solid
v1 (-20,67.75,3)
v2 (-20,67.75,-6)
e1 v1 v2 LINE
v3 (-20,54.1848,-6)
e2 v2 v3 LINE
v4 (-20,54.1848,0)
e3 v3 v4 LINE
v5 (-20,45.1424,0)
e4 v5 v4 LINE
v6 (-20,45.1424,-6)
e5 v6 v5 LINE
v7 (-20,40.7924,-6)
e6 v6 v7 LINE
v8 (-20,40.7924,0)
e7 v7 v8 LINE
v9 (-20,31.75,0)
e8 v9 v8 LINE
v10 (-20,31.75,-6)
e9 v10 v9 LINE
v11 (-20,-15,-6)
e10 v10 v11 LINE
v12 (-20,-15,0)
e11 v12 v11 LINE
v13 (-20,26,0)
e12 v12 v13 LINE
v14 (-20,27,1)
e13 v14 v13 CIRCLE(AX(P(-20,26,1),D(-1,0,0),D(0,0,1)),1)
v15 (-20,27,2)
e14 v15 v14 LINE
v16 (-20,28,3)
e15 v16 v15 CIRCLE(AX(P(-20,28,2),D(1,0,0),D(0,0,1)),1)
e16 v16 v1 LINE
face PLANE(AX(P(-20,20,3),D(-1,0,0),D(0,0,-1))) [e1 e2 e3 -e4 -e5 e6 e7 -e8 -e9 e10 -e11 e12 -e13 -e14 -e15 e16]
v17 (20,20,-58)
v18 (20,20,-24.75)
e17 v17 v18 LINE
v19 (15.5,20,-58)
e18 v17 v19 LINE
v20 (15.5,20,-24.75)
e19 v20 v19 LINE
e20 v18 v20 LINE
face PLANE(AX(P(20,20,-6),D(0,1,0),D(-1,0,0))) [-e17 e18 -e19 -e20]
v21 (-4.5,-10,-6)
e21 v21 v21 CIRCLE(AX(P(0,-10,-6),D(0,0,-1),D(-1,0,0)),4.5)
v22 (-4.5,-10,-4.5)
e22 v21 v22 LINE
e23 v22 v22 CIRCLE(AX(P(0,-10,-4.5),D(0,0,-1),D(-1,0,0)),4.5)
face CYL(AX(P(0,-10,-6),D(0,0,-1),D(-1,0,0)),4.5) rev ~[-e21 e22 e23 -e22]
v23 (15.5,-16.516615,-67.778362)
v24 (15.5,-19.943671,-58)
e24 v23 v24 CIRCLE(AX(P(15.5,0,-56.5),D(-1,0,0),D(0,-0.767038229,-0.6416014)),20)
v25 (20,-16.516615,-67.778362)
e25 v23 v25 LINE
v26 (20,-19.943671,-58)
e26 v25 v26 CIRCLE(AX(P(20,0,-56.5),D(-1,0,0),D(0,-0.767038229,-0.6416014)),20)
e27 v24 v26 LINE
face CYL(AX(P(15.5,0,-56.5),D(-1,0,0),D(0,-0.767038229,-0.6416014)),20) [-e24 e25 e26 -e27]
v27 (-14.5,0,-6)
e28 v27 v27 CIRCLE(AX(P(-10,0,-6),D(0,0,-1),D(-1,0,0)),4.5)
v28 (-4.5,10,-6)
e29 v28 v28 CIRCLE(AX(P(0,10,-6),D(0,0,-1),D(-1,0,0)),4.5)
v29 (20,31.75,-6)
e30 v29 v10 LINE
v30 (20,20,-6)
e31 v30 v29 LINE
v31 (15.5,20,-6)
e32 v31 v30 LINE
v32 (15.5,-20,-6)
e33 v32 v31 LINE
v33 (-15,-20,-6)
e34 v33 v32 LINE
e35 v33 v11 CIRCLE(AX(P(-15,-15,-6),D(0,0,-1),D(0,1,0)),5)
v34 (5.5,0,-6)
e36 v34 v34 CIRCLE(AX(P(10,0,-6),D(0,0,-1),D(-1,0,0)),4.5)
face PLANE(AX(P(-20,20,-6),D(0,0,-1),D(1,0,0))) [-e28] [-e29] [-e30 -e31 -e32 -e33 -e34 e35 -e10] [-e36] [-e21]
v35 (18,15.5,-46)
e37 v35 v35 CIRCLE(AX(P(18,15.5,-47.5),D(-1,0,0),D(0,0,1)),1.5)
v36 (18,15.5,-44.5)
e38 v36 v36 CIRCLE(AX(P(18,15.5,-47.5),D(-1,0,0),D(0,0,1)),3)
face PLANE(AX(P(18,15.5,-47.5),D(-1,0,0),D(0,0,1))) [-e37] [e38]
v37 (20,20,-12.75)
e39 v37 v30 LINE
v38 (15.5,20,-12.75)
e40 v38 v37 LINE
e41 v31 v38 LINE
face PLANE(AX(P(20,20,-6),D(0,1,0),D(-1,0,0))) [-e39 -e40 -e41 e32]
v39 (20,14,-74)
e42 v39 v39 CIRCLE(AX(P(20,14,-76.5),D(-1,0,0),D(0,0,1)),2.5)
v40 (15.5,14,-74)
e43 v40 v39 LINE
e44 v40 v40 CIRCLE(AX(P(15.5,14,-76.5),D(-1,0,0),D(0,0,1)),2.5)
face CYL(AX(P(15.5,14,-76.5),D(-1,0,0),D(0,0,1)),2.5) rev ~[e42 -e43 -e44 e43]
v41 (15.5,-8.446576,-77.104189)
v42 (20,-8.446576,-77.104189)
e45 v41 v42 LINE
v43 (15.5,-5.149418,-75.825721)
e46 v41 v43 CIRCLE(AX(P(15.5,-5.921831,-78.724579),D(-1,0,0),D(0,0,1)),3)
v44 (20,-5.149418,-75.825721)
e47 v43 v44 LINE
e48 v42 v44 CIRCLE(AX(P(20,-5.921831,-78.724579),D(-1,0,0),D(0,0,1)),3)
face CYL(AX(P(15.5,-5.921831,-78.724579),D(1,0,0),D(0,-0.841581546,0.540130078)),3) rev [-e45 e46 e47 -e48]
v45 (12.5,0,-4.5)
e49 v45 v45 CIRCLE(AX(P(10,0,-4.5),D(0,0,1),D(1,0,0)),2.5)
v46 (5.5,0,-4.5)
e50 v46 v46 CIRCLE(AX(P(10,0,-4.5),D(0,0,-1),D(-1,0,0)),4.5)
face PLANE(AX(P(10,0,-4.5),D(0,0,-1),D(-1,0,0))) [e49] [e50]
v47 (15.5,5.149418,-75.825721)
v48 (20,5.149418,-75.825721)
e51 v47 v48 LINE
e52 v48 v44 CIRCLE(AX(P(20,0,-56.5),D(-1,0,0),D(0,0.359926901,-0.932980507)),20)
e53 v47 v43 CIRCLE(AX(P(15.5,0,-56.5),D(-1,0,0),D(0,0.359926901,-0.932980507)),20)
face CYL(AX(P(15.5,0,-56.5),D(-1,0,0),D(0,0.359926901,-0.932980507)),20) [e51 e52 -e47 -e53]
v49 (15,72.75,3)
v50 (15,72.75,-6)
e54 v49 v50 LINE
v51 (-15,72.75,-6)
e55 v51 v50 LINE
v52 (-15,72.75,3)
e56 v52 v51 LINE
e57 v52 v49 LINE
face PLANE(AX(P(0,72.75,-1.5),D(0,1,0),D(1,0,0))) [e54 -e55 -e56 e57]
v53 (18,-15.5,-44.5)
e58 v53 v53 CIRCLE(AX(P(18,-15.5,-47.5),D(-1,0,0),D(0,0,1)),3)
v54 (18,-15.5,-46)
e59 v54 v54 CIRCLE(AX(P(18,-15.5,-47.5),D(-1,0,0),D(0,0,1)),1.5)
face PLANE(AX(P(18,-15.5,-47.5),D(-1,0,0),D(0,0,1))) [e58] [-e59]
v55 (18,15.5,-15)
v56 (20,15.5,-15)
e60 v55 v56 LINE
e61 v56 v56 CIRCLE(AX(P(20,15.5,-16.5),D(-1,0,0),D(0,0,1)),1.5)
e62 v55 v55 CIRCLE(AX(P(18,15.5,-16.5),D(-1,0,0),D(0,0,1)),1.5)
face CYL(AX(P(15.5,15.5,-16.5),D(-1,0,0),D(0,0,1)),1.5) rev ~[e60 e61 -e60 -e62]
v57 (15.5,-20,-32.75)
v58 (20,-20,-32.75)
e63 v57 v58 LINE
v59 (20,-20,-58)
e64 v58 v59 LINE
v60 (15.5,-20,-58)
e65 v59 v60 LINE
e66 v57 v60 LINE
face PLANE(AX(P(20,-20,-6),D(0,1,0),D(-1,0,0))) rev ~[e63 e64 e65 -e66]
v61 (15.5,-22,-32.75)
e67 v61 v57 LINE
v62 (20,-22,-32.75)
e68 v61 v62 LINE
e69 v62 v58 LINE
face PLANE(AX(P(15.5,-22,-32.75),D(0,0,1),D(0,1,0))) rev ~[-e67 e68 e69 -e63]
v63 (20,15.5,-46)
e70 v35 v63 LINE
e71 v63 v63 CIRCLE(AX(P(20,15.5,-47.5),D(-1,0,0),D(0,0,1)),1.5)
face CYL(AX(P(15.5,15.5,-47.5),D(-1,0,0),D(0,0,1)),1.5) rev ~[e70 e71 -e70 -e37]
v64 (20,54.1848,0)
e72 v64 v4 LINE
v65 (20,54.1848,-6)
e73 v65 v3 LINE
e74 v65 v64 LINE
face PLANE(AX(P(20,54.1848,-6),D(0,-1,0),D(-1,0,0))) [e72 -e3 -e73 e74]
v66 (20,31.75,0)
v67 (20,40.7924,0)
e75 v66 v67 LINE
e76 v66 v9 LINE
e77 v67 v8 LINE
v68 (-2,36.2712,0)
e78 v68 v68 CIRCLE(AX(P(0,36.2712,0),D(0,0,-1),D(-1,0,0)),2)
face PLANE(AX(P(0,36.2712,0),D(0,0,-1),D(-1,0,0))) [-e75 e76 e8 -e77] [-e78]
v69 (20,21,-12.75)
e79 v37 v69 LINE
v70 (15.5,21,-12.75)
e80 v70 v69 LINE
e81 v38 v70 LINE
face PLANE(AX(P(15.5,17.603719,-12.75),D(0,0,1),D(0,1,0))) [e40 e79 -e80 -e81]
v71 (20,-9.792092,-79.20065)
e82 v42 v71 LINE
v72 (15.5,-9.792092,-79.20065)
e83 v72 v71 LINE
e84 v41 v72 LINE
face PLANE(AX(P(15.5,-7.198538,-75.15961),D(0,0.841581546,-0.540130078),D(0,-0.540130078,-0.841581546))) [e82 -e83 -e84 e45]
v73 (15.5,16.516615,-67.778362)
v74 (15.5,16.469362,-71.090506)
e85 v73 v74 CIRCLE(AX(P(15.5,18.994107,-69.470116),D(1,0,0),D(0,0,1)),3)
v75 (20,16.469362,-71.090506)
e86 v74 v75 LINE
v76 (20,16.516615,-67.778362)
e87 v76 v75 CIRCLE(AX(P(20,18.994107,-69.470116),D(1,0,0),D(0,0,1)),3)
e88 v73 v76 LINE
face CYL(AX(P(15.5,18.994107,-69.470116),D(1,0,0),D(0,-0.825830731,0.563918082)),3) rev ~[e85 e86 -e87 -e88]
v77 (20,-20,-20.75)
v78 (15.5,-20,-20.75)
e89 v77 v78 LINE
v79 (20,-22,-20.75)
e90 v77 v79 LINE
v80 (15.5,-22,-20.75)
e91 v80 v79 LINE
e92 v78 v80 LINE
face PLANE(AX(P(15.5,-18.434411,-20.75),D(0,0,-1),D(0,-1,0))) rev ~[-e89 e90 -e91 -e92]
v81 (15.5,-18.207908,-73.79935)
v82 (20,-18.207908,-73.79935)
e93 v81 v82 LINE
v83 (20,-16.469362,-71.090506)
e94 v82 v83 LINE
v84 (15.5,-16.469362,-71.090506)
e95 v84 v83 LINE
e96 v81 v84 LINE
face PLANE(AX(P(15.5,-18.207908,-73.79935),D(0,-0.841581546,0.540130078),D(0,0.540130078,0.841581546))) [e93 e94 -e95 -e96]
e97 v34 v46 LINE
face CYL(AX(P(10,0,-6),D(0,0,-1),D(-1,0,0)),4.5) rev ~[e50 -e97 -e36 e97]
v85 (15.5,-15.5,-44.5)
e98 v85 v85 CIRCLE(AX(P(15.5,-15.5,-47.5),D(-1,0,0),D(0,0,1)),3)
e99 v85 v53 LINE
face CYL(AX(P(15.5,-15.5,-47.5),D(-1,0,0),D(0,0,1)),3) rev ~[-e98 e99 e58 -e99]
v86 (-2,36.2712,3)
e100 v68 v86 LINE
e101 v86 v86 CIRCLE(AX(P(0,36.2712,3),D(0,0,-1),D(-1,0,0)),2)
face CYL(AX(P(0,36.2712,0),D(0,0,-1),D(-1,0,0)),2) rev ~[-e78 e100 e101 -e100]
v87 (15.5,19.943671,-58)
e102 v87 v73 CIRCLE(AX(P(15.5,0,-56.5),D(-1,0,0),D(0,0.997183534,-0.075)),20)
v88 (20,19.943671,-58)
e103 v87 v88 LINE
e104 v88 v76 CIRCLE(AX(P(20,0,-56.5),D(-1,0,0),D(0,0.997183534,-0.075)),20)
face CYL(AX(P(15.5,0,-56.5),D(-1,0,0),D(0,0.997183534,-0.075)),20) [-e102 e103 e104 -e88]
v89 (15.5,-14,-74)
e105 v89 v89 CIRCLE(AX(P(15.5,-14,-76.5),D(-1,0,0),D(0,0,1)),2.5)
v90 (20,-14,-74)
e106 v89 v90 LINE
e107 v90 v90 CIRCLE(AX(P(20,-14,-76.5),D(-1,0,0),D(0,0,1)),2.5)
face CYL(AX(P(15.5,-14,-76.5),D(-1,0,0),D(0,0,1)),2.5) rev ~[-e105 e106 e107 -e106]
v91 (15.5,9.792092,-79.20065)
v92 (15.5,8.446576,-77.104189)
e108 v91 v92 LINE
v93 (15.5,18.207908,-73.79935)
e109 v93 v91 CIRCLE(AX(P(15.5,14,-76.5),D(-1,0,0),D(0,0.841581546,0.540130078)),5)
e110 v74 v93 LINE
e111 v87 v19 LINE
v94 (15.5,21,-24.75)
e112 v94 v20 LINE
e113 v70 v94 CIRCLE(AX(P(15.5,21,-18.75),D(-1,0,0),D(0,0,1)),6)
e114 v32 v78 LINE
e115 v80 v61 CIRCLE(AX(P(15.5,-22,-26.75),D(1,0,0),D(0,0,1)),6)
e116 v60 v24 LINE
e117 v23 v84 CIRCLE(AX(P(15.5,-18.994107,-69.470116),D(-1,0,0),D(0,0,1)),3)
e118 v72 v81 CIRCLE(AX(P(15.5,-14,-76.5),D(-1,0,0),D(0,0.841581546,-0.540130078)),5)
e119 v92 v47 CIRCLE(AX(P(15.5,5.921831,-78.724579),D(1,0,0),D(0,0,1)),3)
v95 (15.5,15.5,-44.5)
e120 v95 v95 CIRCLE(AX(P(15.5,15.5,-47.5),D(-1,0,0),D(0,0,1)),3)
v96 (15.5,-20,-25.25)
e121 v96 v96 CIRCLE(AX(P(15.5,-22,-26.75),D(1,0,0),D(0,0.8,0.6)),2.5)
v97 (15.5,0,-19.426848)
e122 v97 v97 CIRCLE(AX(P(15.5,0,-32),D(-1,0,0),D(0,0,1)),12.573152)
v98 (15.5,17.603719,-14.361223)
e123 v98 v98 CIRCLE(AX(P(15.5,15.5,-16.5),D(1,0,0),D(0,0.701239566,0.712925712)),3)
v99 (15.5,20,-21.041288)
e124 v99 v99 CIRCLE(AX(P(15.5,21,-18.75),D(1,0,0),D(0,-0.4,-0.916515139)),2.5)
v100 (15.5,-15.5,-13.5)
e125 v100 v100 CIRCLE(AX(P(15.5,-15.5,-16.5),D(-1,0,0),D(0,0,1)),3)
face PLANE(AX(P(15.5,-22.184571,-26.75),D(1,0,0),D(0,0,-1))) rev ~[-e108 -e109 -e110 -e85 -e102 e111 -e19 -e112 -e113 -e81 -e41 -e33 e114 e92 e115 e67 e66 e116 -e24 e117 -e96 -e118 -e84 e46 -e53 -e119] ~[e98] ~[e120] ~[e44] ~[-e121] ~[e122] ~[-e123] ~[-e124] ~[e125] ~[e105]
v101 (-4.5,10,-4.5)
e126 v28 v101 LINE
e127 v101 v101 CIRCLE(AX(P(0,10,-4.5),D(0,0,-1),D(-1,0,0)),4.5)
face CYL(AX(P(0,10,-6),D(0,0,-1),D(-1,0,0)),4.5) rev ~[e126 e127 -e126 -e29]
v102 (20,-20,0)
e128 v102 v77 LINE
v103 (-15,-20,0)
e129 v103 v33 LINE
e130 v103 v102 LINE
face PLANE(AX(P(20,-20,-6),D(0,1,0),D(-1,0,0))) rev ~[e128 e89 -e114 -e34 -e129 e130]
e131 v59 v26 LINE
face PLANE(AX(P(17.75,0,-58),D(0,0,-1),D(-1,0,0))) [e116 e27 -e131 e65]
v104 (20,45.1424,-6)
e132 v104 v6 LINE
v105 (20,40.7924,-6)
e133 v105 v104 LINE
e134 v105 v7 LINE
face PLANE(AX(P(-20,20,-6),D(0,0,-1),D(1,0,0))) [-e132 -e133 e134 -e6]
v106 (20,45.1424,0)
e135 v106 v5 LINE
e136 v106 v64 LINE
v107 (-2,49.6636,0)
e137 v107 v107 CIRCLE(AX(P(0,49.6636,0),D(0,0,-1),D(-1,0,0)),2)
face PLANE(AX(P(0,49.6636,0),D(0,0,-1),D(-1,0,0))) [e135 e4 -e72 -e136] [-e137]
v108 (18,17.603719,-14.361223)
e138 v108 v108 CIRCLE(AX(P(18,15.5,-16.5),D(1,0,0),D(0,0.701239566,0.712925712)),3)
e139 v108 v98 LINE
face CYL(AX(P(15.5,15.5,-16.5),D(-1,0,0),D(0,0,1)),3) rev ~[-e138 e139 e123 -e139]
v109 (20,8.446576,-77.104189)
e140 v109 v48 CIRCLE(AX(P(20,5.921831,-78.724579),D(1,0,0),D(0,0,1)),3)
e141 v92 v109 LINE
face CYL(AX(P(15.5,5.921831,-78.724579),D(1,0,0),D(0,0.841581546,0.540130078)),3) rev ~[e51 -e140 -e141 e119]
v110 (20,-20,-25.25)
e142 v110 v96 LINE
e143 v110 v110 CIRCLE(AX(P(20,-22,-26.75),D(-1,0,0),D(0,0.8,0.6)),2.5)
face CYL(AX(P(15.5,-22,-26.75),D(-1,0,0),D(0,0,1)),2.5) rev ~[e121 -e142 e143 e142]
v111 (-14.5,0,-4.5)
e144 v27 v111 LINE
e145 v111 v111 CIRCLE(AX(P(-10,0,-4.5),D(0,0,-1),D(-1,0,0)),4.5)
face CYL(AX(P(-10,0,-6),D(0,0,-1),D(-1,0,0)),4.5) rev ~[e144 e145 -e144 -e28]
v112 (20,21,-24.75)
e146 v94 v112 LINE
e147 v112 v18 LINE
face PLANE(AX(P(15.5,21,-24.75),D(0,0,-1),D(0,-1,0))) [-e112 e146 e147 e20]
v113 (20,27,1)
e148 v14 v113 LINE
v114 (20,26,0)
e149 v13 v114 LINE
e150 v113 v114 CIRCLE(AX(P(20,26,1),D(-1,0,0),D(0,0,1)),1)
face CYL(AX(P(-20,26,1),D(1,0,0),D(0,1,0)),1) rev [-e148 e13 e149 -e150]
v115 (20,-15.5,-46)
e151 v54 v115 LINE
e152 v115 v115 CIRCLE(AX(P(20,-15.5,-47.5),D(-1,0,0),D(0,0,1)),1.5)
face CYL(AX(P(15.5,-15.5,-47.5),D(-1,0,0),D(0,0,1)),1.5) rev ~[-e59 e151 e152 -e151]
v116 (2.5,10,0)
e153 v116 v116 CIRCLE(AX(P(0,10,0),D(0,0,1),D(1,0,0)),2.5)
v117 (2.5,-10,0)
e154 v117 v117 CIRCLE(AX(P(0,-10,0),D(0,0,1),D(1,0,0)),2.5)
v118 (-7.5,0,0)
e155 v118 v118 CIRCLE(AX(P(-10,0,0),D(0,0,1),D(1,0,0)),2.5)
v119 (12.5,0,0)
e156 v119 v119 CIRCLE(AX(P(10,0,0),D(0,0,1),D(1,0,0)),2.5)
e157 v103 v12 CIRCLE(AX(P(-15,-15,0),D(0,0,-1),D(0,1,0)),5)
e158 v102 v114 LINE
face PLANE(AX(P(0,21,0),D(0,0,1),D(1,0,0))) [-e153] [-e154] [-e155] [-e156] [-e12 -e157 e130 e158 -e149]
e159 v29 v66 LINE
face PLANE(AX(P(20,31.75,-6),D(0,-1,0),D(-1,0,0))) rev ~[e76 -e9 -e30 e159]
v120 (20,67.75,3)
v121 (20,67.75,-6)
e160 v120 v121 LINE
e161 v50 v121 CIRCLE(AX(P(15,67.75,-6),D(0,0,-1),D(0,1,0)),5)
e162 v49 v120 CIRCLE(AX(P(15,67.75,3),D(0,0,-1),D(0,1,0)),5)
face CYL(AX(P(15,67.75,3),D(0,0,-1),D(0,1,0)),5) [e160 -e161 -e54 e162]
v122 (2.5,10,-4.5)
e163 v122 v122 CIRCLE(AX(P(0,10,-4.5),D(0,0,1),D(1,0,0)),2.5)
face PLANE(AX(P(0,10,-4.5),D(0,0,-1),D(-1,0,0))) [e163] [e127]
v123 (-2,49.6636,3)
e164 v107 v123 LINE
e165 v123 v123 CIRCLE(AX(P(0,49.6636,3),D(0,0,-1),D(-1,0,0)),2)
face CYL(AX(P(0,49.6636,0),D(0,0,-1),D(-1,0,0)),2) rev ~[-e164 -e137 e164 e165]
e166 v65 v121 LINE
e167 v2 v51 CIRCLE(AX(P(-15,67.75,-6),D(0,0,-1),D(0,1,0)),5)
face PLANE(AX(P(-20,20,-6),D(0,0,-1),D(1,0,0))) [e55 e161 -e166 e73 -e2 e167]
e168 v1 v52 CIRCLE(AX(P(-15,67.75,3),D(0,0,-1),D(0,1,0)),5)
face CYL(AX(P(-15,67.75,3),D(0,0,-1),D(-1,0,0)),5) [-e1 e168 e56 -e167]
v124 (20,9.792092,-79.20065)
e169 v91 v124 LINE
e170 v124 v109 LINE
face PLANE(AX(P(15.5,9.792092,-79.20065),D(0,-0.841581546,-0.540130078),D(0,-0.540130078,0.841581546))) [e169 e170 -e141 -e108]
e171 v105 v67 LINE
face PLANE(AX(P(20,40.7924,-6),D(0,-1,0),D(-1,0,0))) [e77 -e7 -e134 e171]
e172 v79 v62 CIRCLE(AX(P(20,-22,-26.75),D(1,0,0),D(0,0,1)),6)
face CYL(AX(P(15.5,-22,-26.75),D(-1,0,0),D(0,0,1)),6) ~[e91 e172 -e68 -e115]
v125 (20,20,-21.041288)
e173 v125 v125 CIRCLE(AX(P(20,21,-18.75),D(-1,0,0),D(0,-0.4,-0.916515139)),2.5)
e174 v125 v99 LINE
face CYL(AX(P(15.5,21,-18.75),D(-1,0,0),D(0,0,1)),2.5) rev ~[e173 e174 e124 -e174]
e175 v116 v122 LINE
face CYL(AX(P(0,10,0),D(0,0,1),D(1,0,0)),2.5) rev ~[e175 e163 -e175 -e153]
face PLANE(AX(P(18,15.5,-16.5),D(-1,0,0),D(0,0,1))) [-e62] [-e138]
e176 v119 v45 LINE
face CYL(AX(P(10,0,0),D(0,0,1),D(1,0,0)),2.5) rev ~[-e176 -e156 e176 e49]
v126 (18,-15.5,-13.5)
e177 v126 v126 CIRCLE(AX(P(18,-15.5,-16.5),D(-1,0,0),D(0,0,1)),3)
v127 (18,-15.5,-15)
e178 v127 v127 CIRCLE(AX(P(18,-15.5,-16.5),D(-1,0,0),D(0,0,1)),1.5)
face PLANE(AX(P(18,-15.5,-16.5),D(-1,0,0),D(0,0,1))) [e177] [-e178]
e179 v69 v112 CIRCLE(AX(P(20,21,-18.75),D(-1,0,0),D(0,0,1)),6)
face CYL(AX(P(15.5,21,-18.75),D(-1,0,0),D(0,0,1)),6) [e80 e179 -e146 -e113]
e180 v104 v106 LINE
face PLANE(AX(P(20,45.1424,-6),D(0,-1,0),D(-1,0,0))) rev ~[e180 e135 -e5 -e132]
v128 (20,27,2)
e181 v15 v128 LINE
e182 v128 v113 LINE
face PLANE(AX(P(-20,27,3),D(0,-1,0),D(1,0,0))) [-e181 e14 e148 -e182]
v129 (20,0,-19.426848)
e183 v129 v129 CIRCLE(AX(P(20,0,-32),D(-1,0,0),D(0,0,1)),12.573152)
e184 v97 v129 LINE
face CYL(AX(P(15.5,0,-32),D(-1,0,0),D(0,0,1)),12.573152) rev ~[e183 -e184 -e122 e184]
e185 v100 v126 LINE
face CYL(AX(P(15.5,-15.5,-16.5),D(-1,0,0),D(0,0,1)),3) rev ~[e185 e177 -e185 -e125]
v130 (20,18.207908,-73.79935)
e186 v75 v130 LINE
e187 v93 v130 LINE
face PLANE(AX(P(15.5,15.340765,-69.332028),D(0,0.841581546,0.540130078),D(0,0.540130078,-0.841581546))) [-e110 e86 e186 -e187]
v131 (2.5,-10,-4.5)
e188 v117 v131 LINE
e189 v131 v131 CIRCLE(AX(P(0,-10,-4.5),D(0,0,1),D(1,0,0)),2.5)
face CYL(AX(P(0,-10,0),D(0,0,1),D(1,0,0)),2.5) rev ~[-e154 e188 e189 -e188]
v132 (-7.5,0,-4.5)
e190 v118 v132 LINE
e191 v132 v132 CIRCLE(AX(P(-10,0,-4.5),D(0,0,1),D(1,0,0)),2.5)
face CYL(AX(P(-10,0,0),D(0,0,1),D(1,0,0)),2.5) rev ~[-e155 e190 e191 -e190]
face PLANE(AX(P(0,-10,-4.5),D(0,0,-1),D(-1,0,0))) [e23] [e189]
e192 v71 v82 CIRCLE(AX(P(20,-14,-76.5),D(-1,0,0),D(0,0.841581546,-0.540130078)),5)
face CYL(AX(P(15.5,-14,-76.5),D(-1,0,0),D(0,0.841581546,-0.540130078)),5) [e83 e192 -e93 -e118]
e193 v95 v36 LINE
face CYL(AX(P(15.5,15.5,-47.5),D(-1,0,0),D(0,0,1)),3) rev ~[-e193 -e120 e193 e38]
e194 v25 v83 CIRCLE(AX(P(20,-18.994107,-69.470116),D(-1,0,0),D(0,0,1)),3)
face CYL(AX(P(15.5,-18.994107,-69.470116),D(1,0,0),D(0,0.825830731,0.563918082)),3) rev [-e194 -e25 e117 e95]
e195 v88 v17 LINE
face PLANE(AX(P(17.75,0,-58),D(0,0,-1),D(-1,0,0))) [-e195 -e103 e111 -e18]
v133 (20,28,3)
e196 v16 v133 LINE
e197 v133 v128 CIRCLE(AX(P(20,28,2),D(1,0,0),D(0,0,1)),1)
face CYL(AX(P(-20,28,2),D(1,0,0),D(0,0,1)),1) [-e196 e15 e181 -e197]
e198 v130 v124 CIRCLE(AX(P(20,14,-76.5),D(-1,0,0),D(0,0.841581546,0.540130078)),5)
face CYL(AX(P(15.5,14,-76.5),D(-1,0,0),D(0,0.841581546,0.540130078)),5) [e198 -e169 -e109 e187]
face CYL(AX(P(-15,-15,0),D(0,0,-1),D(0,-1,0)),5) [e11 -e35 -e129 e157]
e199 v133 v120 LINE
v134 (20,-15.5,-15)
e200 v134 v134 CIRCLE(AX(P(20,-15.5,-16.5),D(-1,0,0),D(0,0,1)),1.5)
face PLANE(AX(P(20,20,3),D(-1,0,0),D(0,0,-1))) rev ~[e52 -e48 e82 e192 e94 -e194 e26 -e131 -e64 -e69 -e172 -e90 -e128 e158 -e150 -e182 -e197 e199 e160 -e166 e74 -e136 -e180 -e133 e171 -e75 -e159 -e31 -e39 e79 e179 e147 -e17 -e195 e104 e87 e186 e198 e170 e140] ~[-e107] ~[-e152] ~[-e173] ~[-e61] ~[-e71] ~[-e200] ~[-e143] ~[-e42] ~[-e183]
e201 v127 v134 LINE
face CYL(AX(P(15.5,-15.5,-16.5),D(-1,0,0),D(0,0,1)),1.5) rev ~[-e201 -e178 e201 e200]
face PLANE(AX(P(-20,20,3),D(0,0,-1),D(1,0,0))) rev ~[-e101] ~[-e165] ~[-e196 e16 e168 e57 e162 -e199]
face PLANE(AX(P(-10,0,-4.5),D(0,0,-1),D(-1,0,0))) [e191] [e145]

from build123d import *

# Parameters (mm, degrees)
SKETCH2_W            = 40
SKETCH2_H            = 40
SKETCH2_R            = 2.5
BOSS_EXTRUDE1_DEPTH  = 6
SKETCH3_W            = 4.5
SKETCH3_H            = 40
BOSS_EXTRUDE2_DEPTH  = 52
CUT_EXTRUDE1_REACH   = 6.5
SKETCH4_R            = 12.573151632
SKETCH4_R_2          = 1.5
SKETCH5_R            = 4.5
CUT_EXTRUDE2_DEPTH   = 1.5
SKETCH6_R            = 3
CUT_EXTRUDE3_DEPTH   = 2.5
FILLET1_R            = 5
SKETCH11_R           = 2.5
BOSS_EXTRUDE6_DEPTH  = 4.5
FILLET2_R            = 3
SKETCH9_R            = 2.5
BOSS_EXTRUDE15_DEPTH = 4.5
SKETCH24_R           = 2.5
CUT_EXTRUDE11_DEPTH  = 4.5
SKETCH15_R           = 3
CUT_EXTRUDE12_DEPTH  = 2.5
SKETCH25_W           = 40
SKETCH25_H           = 9
BOSS_EXTRUDE16_DEPTH = 52.75
SKETCH28_W           = 40
SKETCH28_H           = 2
CUT_EXTRUDE15_DEPTH  = 3
SKETCH33_W           = 40
SKETCH33_H           = 5
CUT_EXTRUDE18_DEPTH  = 3
FILLET7_R            = 1
FILLET8_R            = 5
SKETCH31_W           = 40
SKETCH31_H           = 9.0424
CUT_EXTRUDE16_DEPTH  = 6
SKETCH32_R           = 2
CUT_EXTRUDE17_DEPTH  = 4


with BuildPart() as part:
    # Sketch2 → Boss-Extrude1 (new body)
    with BuildSketch(Plane.XY):
        Rectangle(SKETCH2_W, SKETCH2_H)
        with Locations((0, 10)):
            Circle(SKETCH2_R, mode=Mode.SUBTRACT)
        with Locations((0, -10)):
            Circle(SKETCH2_R, mode=Mode.SUBTRACT)
        with Locations((-10, 0)):
            Circle(SKETCH2_R, mode=Mode.SUBTRACT)
        with Locations((10, 0)):
            Circle(SKETCH2_R, mode=Mode.SUBTRACT)
    extrude(amount=-BOSS_EXTRUDE1_DEPTH)

    # Sketch3 → Boss-Extrude2 (add)
    with BuildSketch(Plane(origin=(0, 0, -6), x_dir=(-1, 0, 0), z_dir=(0, 0, -1))):
        with Locations((-17.75, 0)):
            Rectangle(SKETCH3_W, SKETCH3_H)
    extrude(amount=BOSS_EXTRUDE2_DEPTH)

    # Sketch4 → Cut-Extrude1 (cut, up to next)
    with BuildSketch(Plane.ZY.offset(-15.5), mode=Mode.PRIVATE) as cut_extrude1_sk1:
        with Locations((-32, 0)):
            Circle(SKETCH4_R)
    cut_extrude1_tool1 = extrude(cut_extrude1_sk1.sketch, amount=-CUT_EXTRUDE1_REACH, mode=Mode.PRIVATE) & part.part
    add(cut_extrude1_tool1.solids().sort_by_distance((15.5, 0, -32))[0], mode=Mode.SUBTRACT)
    # Sketch4 → Cut-Extrude1 (cut, up to next)
    with BuildSketch(Plane.ZY.offset(-15.5), mode=Mode.PRIVATE) as cut_extrude1_sk2:
        with Locations((-16.5, 15.5)):
            Circle(SKETCH4_R_2)
    cut_extrude1_tool2 = extrude(cut_extrude1_sk2.sketch, amount=-CUT_EXTRUDE1_REACH, mode=Mode.PRIVATE) & part.part
    add(cut_extrude1_tool2.solids().sort_by_distance((15.5, 15.5, -16.5))[0], mode=Mode.SUBTRACT)
    # Sketch4 → Cut-Extrude1 (cut, up to next)
    with BuildSketch(Plane.ZY.offset(-15.5), mode=Mode.PRIVATE) as cut_extrude1_sk3:
        with Locations((-16.5, -15.5)):
            Circle(SKETCH4_R_2)
    cut_extrude1_tool3 = extrude(cut_extrude1_sk3.sketch, amount=-CUT_EXTRUDE1_REACH, mode=Mode.PRIVATE) & part.part
    add(cut_extrude1_tool3.solids().sort_by_distance((15.5, -15.5, -16.5))[0], mode=Mode.SUBTRACT)
    # Sketch4 → Cut-Extrude1 (cut, up to next)
    with BuildSketch(Plane.ZY.offset(-15.5), mode=Mode.PRIVATE) as cut_extrude1_sk4:
        with Locations((-47.5, -15.5)):
            Circle(SKETCH4_R_2)
    cut_extrude1_tool4 = extrude(cut_extrude1_sk4.sketch, amount=-CUT_EXTRUDE1_REACH, mode=Mode.PRIVATE) & part.part
    add(cut_extrude1_tool4.solids().sort_by_distance((15.5, -15.5, -47.5))[0], mode=Mode.SUBTRACT)
    # Sketch4 → Cut-Extrude1 (cut, up to next)
    with BuildSketch(Plane.ZY.offset(-15.5), mode=Mode.PRIVATE) as cut_extrude1_sk5:
        with Locations((-47.5, 15.5)):
            Circle(SKETCH4_R_2)
    cut_extrude1_tool5 = extrude(cut_extrude1_sk5.sketch, amount=-CUT_EXTRUDE1_REACH, mode=Mode.PRIVATE) & part.part
    add(cut_extrude1_tool5.solids().sort_by_distance((15.5, 15.5, -47.5))[0], mode=Mode.SUBTRACT)

    # Sketch5 → Cut-Extrude2 (cut)
    with BuildSketch(Plane(origin=(0, 0, -6), x_dir=(-1, 0, 0), z_dir=(0, 0, -1))):
        with Locations((0, 10)):
            Circle(SKETCH5_R)
        with Locations((10, 0)):
            Circle(SKETCH5_R)
        with Locations((0, -10)):
            Circle(SKETCH5_R)
        with Locations((-10, 0)):
            Circle(SKETCH5_R)
    extrude(amount=-CUT_EXTRUDE2_DEPTH, mode=Mode.SUBTRACT)

    # Sketch6 → Cut-Extrude3 (cut)
    with BuildSketch(Plane.ZY.offset(-15.5)):
        with Locations((-16.5, 15.5)):
            Circle(SKETCH6_R)
        with Locations((-47.5, 15.5)):
            Circle(SKETCH6_R)
        with Locations((-47.5, -15.5)):
            Circle(SKETCH6_R)
        with Locations((-16.5, -15.5)):
            Circle(SKETCH6_R)
    extrude(amount=-CUT_EXTRUDE3_DEPTH, mode=Mode.SUBTRACT)

    # Fillet1
    fillet1_edges = [part.edges().sort_by_distance(p)[0] for p in [
        (-20, -20, -3),
    ]]
    fillet(fillet1_edges, radius=FILLET1_R)

    # Sketch11 → Boss-Extrude6 (add)
    with BuildSketch(Plane.ZY.offset(-15.5)):
        with BuildLine():
            Line((-58, -19.943670675), (-58, 19.943670675))
            ThreePointArc((-58, 19.943670675), (-64.026515977, 18.5297479), (-69.332027993, 15.34076457))
            ThreePointArc((-69.332027993, 15.34076457), (-72.76360296, 11.640241353), (-75.159610133, 7.198538025))
            ThreePointArc((-75.159610133, 7.198538025), (-76.5, 0), (-75.159610133, -7.198538025))
            ThreePointArc((-75.159610133, -7.198538025), (-72.76360296, -11.640241353), (-69.332027993, -15.34076457))
            ThreePointArc((-69.332027993, -15.34076457), (-64.026515977, -18.5297479), (-58, -19.943670675))
        make_face()
        with BuildLine():
            ThreePointArc((-75.159610133, 7.198538025), (-72.76360296, 11.640241353), (-69.332027993, 15.34076457))
            Line((-69.332027993, 15.34076457), (-73.799349609, 18.20790773))
            ThreePointArc((-73.799349609, 18.20790773), (-80.70790773, 16.700650391), (-79.200650391, 9.79209227))
            Line((-79.200650391, 9.79209227), (-75.159610133, 7.198538025))
        make_face()
        with Locations((-76.5, 14)):
            Circle(SKETCH11_R, mode=Mode.SUBTRACT)
        with BuildLine():
            Line((-73.799349609, -18.20790773), (-69.332027993, -15.34076457))
            ThreePointArc((-69.332027993, -15.34076457), (-72.76360296, -11.640241353), (-75.159610133, -7.198538025))
            Line((-75.159610133, -7.198538025), (-79.200650391, -9.79209227))
            ThreePointArc((-79.200650391, -9.79209227), (-80.70790773, -16.700650391), (-73.799349609, -18.20790773))
        make_face()
        with Locations((-76.5, -14)):
            Circle(SKETCH11_R, mode=Mode.SUBTRACT)
    extrude(amount=-BOSS_EXTRUDE6_DEPTH)

    # Fillet2
    fillet2_edges = [part.edges().sort_by_distance(p)[0] for p in [
        (17.75, -15.34076457, -69.332027993),
        (17.75, -7.198538025, -75.159610133),
        (17.75, 7.198538025, -75.159610133),
        (17.75, 15.34076457, -69.332027993),
    ]]
    fillet(fillet2_edges, radius=FILLET2_R)

    # Sketch9 → Boss-Extrude15 (add)
    with BuildSketch(Plane.ZY.offset(-15.5)):
        with BuildLine():
            Line((-32.75, -22), (-32.75, -18.434411342))
            Line((-32.75, -18.434411342), (-20.75, -18.434411342))
            Line((-20.75, -18.434411342), (-20.75, -22))
            ThreePointArc((-20.75, -22), (-26.75, -28), (-32.75, -22))
        make_face()
        with Locations((-26.75, -22)):
            Circle(SKETCH9_R, mode=Mode.SUBTRACT)
        with BuildLine():
            Line((-24.75, 21), (-24.75, 17.603718698))
            Line((-24.75, 17.603718698), (-12.75, 17.603718698))
            Line((-12.75, 17.603718698), (-12.75, 21))
            ThreePointArc((-12.75, 21), (-18.75, 27), (-24.75, 21))
        make_face()
        with Locations((-18.75, 21)):
            Circle(SKETCH9_R, mode=Mode.SUBTRACT)
    extrude(amount=-BOSS_EXTRUDE15_DEPTH)

    # Sketch24 → Cut-Extrude11 (cut)
    with BuildSketch(Plane.ZY.offset(-15.5)):
        with Locations((-18.75, 21)):
            Circle(SKETCH24_R)
        with Locations((-26.75, -22)):
            Circle(SKETCH24_R)
    extrude(amount=-CUT_EXTRUDE11_DEPTH, mode=Mode.SUBTRACT)

    # Sketch15 → Cut-Extrude12 (cut)
    with BuildSketch(Plane.ZY.offset(-15.5)):
        with Locations((-16.5, 15.5)):
            Circle(SKETCH15_R)
    extrude(amount=-CUT_EXTRUDE12_DEPTH, mode=Mode.SUBTRACT)

    # Sketch25 → Boss-Extrude16 (add)
    with BuildSketch(Plane(origin=(0, 20, 0), x_dir=(1, 0, 0), z_dir=(0, 1, 0))):
        with Locations((0, 1.5)):
            Rectangle(SKETCH25_W, SKETCH25_H)
    extrude(amount=BOSS_EXTRUDE16_DEPTH)

    # Sketch28 → Cut-Extrude15 (cut)
    with BuildSketch(Plane.XY.offset(3)):
        with Locations((0, 21)):
            Rectangle(SKETCH28_W, SKETCH28_H)
    extrude(amount=-CUT_EXTRUDE15_DEPTH, mode=Mode.SUBTRACT)

    # Sketch33 → Cut-Extrude18 (cut)
    with BuildSketch(Plane.XY.offset(3)):
        with Locations((0, 24.5)):
            Rectangle(SKETCH33_W, SKETCH33_H)
    extrude(amount=-CUT_EXTRUDE18_DEPTH, mode=Mode.SUBTRACT)

    # Fillet7
    fillet7_edges = [part.edges().sort_by_distance(p)[0] for p in [
        (0, 27, 3),
        (0, 27, 0),
    ]]
    fillet(fillet7_edges, radius=FILLET7_R)

    # Fillet8
    fillet8_edges = [part.edges().sort_by_distance(p)[0] for p in [
        (20, 72.75, -1.5),
        (-20, 72.75, -1.5),
    ]]
    fillet(fillet8_edges, radius=FILLET8_R)

    # Sketch31 → Cut-Extrude16 (cut)
    with BuildSketch(Plane(origin=(0, 0, -6), x_dir=(-1, 0, 0), z_dir=(0, 0, -1))):
        with Locations((0, 36.2712)):
            Rectangle(SKETCH31_W, SKETCH31_H)
        with Locations((0, 49.6636)):
            Rectangle(SKETCH31_W, SKETCH31_H)
    extrude(amount=-CUT_EXTRUDE16_DEPTH, mode=Mode.SUBTRACT)

    # Sketch32 → Cut-Extrude17 (cut, through all)
    with BuildSketch(Plane(origin=(0, 0, 0), x_dir=(-1, 0, 0), z_dir=(0, 0, -1))):
        with Locations((0, 49.6636)):
            Circle(SKETCH32_R)
        with Locations((0, 36.2712)):
            Circle(SKETCH32_R)
    extrude(amount=-CUT_EXTRUDE17_DEPTH, mode=Mode.SUBTRACT)


solid = part.part
